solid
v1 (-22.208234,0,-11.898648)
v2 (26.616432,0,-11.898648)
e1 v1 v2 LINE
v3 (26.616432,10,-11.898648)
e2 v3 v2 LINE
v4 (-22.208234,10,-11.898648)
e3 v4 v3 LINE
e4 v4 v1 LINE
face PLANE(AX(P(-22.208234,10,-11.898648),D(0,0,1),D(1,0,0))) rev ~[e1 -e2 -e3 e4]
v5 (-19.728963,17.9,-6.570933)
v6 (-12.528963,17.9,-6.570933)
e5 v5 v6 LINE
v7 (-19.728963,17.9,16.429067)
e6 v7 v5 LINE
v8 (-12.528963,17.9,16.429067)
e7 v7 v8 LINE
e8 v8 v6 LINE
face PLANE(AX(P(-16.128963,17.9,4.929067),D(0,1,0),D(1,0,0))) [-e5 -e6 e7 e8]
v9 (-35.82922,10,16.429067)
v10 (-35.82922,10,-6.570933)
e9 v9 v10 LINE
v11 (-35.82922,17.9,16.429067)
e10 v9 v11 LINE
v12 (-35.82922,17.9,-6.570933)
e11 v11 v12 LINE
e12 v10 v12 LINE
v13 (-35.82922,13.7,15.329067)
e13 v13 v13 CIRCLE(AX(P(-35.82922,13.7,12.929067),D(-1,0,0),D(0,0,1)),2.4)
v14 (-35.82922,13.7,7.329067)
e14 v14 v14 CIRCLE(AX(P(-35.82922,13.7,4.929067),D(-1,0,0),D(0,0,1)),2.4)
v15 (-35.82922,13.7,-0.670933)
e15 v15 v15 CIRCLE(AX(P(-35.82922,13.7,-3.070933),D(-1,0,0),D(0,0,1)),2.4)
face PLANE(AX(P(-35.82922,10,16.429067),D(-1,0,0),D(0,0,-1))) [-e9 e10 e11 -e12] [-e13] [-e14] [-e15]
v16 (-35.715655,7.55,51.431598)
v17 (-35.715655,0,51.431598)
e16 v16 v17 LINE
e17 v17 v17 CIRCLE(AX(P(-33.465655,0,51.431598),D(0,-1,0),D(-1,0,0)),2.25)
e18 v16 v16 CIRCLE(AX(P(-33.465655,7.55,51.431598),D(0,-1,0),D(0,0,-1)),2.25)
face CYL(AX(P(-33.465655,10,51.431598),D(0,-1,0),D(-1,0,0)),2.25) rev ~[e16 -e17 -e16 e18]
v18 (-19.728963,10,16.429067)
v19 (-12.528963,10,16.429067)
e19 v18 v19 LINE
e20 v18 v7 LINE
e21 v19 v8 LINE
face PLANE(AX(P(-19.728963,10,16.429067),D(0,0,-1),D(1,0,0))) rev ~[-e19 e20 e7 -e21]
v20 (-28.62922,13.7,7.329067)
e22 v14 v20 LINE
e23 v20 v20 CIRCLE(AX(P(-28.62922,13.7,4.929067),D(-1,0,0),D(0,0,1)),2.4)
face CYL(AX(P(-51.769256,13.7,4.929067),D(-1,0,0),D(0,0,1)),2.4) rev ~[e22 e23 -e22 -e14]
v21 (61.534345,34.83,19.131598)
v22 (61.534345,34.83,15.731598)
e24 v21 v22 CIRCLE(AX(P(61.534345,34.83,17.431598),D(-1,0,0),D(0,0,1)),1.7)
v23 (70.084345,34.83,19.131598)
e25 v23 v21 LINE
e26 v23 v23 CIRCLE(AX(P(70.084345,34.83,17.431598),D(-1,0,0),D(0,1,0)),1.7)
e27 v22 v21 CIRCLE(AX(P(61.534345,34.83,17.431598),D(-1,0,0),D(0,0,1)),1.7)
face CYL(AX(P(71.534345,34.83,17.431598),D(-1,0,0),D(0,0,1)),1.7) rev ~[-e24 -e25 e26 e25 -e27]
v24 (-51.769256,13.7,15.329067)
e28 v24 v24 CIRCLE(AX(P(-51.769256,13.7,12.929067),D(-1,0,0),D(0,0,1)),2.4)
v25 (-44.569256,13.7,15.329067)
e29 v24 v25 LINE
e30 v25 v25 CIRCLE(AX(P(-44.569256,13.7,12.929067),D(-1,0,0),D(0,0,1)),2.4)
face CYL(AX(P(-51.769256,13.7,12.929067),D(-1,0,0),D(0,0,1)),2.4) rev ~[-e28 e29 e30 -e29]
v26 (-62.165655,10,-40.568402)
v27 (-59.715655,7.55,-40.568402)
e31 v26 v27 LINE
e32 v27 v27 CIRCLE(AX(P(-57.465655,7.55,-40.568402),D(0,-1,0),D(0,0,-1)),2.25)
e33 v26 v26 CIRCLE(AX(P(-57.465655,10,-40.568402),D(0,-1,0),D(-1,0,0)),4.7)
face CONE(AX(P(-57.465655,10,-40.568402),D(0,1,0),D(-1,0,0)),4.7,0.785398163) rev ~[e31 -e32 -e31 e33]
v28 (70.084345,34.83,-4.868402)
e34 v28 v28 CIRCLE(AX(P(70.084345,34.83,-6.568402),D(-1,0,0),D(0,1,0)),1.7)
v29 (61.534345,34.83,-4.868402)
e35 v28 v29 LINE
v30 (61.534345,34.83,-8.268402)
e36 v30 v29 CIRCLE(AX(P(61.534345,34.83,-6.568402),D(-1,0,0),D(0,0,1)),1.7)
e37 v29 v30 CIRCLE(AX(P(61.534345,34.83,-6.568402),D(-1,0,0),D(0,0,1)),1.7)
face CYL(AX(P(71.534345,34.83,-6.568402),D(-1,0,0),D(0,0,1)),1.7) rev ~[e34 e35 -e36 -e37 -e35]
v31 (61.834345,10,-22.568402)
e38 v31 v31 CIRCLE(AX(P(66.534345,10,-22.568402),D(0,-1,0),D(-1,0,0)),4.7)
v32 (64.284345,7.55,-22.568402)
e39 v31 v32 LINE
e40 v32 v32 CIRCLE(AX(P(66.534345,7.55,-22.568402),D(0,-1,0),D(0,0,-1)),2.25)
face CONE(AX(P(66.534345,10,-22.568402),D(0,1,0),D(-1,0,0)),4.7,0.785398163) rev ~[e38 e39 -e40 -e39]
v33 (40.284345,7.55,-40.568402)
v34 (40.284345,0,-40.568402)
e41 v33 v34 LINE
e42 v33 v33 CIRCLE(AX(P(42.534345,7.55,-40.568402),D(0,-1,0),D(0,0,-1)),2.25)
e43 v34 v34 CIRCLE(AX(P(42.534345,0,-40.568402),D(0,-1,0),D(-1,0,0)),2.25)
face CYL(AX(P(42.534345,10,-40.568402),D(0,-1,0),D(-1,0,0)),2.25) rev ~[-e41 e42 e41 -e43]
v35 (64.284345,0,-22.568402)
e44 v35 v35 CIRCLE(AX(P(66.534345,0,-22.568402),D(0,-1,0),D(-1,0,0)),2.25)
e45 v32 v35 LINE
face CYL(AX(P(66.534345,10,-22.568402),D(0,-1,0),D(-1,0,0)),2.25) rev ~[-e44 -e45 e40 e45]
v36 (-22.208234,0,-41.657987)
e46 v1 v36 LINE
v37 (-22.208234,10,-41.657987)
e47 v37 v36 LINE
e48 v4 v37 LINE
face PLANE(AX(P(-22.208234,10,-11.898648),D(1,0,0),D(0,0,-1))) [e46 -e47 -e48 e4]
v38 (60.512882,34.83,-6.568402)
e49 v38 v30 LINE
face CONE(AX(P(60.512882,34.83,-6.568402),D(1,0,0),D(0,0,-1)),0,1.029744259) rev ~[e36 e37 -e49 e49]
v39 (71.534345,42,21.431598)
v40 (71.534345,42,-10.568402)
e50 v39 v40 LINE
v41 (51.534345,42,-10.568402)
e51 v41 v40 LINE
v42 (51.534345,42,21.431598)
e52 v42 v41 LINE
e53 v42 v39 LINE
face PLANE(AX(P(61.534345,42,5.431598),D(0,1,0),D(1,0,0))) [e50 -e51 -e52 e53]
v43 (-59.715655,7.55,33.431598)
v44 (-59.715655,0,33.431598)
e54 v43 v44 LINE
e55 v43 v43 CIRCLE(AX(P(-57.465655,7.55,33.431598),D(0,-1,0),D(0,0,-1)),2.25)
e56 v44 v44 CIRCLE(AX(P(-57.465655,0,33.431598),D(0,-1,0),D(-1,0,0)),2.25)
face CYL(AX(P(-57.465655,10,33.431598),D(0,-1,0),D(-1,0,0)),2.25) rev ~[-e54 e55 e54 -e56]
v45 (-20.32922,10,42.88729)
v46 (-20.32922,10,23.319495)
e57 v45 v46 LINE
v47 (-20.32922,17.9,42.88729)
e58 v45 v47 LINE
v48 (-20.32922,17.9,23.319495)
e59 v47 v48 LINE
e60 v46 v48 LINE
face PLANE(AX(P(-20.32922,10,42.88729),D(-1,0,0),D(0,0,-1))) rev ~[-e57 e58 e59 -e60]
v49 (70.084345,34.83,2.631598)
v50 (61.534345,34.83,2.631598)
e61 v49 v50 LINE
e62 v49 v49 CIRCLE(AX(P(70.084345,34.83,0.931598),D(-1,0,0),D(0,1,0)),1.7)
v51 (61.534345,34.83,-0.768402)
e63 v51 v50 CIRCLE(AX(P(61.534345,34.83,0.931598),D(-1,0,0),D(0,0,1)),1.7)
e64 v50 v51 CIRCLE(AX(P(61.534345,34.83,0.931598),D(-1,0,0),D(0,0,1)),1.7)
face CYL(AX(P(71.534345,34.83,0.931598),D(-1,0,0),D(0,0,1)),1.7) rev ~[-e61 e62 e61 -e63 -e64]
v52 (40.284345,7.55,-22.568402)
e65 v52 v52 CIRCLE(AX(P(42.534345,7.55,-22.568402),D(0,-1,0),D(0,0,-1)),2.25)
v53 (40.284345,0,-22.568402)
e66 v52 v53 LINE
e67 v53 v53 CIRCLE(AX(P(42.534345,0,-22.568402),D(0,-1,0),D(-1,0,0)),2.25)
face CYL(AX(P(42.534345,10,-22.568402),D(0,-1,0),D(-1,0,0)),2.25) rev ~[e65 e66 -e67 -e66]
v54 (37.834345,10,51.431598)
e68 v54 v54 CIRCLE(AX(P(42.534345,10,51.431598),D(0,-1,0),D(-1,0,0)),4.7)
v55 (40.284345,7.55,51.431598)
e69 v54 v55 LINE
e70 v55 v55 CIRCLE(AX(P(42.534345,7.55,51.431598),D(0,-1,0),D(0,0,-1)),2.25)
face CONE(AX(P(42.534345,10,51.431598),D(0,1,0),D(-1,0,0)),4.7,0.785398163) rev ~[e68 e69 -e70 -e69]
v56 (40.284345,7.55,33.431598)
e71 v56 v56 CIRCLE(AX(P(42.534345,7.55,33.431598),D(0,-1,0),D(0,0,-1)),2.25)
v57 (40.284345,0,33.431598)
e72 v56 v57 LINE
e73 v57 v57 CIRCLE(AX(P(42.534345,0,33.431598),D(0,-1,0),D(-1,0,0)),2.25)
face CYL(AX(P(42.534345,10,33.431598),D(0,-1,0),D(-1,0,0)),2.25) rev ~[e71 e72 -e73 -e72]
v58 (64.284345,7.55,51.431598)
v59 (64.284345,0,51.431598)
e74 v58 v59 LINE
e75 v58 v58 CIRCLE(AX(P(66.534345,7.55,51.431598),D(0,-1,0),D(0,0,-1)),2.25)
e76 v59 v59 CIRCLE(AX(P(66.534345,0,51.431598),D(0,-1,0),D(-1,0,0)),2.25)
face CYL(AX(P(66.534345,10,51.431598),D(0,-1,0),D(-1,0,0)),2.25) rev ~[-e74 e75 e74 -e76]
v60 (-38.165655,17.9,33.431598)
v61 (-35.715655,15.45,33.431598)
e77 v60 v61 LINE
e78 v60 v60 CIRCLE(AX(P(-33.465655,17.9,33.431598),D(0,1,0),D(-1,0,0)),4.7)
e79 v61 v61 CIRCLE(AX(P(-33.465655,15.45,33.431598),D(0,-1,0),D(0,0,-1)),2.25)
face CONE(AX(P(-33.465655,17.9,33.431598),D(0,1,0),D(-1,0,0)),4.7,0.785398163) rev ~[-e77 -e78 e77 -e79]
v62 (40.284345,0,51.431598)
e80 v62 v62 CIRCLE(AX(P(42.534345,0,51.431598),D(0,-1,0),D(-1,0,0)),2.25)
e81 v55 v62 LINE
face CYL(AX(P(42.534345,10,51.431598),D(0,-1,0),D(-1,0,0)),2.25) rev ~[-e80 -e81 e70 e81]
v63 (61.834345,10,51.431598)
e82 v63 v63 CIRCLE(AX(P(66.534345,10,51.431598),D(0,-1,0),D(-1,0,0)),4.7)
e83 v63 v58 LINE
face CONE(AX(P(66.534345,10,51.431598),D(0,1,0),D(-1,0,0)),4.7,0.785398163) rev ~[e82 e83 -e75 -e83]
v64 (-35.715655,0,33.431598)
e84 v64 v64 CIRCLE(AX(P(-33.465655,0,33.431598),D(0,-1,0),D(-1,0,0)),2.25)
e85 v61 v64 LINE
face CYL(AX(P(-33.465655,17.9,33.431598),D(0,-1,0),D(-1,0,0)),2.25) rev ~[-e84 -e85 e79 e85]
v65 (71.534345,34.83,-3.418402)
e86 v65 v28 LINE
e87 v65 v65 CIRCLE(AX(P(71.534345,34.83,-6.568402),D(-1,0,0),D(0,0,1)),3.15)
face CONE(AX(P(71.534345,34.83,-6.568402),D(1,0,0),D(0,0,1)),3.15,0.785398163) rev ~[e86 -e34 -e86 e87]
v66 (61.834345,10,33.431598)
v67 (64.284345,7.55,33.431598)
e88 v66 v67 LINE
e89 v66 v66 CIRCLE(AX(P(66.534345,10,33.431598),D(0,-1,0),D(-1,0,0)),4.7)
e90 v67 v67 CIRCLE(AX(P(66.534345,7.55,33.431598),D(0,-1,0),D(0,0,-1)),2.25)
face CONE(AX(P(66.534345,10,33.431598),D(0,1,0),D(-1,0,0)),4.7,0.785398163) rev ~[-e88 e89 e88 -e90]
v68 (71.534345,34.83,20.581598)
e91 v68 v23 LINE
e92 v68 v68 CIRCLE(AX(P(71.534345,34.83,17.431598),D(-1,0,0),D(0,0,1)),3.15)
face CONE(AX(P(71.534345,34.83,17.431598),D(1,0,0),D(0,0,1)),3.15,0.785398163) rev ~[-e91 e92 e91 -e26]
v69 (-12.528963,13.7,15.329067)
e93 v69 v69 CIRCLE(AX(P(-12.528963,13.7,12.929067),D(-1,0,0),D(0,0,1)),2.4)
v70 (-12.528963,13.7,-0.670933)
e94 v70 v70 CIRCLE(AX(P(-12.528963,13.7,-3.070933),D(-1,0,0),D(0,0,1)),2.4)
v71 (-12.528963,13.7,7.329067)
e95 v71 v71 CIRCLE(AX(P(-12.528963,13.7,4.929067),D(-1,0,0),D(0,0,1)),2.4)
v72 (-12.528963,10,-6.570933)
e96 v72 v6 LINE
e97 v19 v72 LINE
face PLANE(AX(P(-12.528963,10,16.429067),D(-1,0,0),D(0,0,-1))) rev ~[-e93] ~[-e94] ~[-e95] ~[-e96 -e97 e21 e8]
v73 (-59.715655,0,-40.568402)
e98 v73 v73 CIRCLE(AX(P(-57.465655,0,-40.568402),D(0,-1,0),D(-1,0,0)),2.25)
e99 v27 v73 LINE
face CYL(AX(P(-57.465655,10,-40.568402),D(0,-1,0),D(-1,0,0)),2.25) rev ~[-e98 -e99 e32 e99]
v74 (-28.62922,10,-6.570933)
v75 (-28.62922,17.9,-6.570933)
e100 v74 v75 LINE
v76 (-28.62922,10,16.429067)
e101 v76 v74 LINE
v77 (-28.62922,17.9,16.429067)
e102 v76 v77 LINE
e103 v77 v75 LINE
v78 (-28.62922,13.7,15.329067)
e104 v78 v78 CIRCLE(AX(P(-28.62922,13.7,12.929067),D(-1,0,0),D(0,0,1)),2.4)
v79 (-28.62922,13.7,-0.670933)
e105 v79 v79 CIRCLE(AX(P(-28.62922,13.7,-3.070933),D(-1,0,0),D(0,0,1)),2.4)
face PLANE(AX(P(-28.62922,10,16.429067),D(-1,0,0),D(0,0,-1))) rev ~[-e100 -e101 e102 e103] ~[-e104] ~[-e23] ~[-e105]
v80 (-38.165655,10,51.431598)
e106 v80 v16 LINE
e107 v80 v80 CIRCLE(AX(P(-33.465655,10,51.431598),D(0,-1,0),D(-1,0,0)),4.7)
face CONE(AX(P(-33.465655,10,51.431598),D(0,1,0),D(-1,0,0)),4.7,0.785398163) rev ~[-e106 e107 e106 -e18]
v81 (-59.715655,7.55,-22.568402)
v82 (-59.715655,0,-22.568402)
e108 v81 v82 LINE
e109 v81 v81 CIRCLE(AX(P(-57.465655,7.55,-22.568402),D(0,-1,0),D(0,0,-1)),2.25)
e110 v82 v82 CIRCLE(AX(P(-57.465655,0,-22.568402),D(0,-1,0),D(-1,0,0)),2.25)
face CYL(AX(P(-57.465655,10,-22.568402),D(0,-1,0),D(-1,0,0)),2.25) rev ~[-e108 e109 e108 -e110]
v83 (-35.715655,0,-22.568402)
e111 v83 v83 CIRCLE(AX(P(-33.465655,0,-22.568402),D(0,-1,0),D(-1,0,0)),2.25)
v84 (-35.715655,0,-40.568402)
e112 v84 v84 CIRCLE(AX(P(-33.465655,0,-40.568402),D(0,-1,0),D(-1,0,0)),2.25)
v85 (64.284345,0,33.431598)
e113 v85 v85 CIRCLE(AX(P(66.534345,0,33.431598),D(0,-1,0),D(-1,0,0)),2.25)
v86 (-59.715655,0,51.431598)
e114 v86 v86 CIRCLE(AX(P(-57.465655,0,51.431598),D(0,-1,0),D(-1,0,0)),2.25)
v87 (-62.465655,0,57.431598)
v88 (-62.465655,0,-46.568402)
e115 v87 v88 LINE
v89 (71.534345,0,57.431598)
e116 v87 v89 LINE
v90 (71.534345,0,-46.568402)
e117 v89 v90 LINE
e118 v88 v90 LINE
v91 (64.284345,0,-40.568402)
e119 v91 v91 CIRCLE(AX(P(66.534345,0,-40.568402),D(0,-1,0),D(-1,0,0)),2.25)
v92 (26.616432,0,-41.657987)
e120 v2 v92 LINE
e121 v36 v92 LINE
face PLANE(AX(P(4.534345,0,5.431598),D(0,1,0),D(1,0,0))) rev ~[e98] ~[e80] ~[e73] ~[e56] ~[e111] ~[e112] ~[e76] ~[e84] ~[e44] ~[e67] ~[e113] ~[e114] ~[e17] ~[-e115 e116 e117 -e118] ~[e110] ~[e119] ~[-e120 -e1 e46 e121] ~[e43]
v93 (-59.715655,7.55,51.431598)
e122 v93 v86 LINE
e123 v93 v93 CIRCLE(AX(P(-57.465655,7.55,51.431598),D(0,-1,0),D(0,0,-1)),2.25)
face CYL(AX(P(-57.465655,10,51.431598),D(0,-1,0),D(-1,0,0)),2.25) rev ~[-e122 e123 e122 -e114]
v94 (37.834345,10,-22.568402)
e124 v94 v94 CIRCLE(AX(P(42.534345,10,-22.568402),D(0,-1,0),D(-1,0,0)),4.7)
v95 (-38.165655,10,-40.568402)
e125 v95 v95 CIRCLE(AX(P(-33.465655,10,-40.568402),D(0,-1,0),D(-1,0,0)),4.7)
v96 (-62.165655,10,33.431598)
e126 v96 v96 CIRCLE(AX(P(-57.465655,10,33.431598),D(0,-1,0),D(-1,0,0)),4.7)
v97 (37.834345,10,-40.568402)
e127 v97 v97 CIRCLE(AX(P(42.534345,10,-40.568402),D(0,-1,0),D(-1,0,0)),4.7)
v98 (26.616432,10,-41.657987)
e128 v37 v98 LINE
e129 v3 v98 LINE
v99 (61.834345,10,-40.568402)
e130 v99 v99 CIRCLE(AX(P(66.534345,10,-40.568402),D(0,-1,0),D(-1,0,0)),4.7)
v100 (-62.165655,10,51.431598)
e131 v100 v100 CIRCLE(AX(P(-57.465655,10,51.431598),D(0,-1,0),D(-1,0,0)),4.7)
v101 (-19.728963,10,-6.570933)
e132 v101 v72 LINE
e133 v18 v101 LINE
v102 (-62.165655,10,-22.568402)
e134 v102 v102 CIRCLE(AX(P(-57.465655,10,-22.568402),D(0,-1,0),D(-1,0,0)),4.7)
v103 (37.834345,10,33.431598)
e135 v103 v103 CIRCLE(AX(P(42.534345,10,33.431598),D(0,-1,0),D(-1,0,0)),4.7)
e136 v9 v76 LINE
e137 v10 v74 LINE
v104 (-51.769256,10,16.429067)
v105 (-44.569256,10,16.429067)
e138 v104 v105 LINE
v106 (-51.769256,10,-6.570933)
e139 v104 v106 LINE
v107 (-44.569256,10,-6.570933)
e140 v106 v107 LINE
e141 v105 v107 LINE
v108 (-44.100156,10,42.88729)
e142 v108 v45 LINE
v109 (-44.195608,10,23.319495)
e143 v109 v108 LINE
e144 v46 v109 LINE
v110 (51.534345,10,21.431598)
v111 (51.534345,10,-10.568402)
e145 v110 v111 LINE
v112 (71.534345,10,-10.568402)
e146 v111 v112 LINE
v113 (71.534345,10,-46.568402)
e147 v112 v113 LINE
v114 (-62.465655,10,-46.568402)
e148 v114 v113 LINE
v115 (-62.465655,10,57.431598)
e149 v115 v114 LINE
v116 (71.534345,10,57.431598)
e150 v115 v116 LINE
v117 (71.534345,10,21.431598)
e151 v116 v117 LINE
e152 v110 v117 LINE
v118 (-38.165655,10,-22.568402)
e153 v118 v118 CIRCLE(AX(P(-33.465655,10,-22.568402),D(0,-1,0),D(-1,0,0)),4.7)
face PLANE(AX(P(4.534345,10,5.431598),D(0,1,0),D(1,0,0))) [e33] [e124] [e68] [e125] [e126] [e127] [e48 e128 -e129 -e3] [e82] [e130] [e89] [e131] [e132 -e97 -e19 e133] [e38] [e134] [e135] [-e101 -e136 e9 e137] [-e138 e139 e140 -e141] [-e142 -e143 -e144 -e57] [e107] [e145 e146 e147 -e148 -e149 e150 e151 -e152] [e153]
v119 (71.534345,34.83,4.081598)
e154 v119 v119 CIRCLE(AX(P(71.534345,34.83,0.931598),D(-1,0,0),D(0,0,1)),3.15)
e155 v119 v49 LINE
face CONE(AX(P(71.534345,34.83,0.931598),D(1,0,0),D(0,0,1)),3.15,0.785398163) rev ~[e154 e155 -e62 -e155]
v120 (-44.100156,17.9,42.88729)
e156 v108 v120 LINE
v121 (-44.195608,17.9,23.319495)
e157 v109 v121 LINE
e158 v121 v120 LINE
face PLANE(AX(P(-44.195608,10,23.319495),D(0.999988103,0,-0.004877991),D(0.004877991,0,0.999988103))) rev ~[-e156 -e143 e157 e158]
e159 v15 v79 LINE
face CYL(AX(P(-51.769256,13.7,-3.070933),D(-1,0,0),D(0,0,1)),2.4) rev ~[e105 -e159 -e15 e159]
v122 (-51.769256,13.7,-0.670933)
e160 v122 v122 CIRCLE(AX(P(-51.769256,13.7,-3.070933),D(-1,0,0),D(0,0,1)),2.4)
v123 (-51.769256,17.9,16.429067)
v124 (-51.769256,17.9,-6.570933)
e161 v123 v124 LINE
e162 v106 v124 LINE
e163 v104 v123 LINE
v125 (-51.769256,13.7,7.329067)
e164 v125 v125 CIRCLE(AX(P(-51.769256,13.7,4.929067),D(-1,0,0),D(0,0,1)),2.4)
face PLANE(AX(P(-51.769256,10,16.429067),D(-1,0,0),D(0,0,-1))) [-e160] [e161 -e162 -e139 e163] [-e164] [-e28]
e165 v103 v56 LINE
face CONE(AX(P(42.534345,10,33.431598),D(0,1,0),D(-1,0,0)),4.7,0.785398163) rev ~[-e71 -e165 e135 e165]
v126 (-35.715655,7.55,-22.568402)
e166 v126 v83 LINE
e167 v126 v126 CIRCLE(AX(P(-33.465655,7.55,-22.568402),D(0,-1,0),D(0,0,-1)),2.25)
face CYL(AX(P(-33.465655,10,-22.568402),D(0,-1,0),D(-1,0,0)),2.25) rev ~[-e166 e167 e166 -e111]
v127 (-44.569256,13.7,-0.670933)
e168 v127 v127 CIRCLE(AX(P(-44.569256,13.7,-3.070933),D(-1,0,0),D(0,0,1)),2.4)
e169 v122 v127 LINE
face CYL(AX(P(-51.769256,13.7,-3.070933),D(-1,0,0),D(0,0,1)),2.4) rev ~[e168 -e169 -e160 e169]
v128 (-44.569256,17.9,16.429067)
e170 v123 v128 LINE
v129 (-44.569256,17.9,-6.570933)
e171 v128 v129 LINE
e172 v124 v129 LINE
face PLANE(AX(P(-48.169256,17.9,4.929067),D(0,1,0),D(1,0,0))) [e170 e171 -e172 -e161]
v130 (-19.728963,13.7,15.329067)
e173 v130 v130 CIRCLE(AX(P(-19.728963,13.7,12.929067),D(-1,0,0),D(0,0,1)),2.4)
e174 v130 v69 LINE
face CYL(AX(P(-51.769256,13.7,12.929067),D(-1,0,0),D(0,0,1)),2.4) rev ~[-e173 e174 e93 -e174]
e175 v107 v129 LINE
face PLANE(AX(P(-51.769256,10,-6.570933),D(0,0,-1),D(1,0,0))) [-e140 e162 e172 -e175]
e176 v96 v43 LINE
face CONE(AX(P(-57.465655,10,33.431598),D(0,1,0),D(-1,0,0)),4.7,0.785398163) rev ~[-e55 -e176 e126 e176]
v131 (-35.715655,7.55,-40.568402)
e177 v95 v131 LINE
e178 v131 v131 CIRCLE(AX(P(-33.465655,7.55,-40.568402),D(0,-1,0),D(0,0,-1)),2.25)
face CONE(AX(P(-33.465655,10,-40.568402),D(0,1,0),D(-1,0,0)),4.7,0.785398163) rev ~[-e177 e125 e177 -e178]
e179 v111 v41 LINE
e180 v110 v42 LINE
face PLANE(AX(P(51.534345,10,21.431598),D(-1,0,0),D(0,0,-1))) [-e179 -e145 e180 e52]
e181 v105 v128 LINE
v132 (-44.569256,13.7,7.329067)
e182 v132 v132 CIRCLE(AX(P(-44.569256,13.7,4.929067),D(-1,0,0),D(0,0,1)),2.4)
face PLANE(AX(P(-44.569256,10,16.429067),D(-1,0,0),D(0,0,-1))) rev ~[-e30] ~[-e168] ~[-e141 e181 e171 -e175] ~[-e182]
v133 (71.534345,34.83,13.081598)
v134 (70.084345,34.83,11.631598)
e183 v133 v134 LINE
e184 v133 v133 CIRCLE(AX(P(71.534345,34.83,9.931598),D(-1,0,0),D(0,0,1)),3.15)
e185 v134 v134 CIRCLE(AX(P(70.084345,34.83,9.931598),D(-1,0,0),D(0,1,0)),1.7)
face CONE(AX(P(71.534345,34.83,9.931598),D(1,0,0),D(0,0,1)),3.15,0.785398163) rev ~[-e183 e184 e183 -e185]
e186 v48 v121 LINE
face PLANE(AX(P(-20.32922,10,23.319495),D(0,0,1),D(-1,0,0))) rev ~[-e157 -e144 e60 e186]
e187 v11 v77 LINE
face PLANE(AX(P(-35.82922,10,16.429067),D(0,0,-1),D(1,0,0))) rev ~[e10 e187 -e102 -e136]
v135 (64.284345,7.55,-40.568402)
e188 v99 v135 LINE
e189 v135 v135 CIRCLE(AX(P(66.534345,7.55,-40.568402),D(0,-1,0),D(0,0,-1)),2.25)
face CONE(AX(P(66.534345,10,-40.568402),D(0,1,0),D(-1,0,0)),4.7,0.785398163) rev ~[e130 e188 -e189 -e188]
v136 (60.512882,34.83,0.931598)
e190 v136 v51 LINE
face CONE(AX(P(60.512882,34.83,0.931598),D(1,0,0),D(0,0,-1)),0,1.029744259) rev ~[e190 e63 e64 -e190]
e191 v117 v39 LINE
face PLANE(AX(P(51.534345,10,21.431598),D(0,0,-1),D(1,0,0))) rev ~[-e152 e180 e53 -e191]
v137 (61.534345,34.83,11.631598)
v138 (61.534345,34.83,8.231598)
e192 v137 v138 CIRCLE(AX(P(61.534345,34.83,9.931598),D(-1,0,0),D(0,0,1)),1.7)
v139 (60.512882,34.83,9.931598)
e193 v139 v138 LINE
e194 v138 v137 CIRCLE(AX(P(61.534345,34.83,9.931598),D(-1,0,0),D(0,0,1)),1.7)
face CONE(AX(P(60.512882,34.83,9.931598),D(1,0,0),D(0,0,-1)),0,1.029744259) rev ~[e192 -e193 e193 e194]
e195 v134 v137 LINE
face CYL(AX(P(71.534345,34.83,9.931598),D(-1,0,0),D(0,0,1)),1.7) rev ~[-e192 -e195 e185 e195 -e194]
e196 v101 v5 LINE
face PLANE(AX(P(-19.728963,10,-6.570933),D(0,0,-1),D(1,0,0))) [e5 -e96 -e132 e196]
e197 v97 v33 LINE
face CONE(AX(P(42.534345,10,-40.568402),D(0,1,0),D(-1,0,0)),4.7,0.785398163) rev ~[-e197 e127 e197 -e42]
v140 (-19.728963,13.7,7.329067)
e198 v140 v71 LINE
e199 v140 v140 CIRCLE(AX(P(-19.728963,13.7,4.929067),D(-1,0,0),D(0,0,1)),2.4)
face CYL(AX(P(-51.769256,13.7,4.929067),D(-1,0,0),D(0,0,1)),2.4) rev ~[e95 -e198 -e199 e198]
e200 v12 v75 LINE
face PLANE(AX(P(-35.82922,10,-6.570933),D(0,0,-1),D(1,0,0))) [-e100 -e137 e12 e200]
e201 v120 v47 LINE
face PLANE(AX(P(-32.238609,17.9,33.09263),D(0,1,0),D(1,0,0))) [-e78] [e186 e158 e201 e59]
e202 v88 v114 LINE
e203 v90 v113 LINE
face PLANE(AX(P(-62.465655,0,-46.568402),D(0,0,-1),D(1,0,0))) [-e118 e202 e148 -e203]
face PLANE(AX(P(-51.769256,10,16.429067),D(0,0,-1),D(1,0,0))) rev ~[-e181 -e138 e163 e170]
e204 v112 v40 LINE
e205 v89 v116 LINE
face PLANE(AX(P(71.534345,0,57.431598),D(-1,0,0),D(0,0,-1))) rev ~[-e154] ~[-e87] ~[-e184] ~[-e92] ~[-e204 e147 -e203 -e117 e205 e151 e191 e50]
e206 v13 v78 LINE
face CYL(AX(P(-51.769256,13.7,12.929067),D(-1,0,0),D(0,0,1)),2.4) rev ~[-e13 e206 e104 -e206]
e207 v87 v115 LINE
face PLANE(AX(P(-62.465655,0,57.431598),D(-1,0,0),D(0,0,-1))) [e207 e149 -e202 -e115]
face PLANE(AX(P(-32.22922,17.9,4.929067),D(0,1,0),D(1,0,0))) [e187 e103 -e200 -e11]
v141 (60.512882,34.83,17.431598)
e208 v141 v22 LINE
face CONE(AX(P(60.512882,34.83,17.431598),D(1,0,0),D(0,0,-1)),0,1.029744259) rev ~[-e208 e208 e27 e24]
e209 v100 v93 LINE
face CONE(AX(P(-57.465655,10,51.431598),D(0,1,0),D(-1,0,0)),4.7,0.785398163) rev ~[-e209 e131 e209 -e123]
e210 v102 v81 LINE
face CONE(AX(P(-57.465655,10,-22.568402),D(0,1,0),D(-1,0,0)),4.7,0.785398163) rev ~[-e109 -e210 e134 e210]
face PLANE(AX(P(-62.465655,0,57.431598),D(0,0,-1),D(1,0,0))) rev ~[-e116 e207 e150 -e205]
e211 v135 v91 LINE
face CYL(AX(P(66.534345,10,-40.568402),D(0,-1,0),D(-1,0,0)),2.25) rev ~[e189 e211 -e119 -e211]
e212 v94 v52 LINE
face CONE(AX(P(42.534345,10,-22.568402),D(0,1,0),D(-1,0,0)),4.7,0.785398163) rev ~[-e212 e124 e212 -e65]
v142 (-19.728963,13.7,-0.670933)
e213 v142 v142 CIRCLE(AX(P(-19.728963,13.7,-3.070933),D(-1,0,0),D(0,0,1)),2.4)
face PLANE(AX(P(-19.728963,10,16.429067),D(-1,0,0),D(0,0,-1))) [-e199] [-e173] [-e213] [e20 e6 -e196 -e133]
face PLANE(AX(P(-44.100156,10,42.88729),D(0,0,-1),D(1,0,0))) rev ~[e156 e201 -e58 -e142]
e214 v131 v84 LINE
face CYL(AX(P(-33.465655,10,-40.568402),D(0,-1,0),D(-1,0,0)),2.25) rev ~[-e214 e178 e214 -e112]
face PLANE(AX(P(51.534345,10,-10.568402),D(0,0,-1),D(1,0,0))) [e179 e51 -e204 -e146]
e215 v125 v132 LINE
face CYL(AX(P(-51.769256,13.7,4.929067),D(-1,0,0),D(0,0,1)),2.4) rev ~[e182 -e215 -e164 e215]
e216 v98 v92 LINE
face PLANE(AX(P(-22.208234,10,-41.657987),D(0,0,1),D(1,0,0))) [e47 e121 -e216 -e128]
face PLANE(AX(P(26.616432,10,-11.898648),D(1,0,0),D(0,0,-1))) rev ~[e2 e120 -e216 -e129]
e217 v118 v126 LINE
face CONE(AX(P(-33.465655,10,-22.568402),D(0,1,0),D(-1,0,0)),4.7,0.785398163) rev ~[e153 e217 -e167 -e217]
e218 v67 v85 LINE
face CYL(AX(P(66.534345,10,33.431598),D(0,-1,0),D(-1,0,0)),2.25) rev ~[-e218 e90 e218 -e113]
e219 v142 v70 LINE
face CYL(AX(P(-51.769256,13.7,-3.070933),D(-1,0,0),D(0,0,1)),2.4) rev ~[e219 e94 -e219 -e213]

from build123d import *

# Parameters (mm, degrees)
SKETCH2_W                                       = 134
SKETCH2_H                                       = 104
BOSS_EXTRUDE1_DEPTH                             = 10
SKETCH3_W                                       = 7.2
SKETCH3_H                                       = 23
BOSS_EXTRUDE2_DEPTH                             = 7.9
BOSS_EXTRUDE3_DEPTH                             = 7.9
CSK_FOR_M4_FLAT_HEAD_MACHINE_SCREW1_D           = 4.5
CSK_FOR_M4_FLAT_HEAD_MACHINE_SCREW1_DEPTH       = 10
CSK_FOR_M4_FLAT_HEAD_MACHINE_SCREW1_CSINK_D     = 9.4
CSK_FOR_M4_FLAT_HEAD_MACHINE_SCREW1_CSINK_ANGLE = 90
CSK_FOR_M4_FLAT_HEAD_MACHINE_SCREW1_TIP         = 1.351936393
SKETCH4_R                                       = 2.4
CUT_EXTRUDE3_DEPTH                              = 124.303600725
SKETCH8_W                                       = 20
SKETCH8_H                                       = 32
BOSS_EXTRUDE4_DEPTH                             = 32
CSK_FOR_M3_FLAT_HEAD_MACHINE_SCREW1_D           = 3.4
CSK_FOR_M3_FLAT_HEAD_MACHINE_SCREW1_DEPTH       = 10
CSK_FOR_M3_FLAT_HEAD_MACHINE_SCREW1_CSINK_D     = 6.3
CSK_FOR_M3_FLAT_HEAD_MACHINE_SCREW1_CSINK_ANGLE = 90
CSK_FOR_M3_FLAT_HEAD_MACHINE_SCREW1_TIP         = 1.021463052
CSK_FOR_M4_FLAT_HEAD_MACHINE_SCREW2_D           = 4.5
CSK_FOR_M4_FLAT_HEAD_MACHINE_SCREW2_CSINK_D     = 9.4
CSK_FOR_M4_FLAT_HEAD_MACHINE_SCREW2_CSINK_ANGLE = 90
SKETCH9_W                                       = 48.824666317
SKETCH9_H                                       = 29.759338586
CUT_EXTRUDE4_DEPTH                              = 11


with BuildPart() as part:
    # Sketch2 → Boss-Extrude1 (new body)
    with BuildSketch(Plane(origin=(0, 0, 0), x_dir=(1, 0, 0), z_dir=(0, 1, 0))):
        with Locations((4.53434515, -5.431597684)):
            Rectangle(SKETCH2_W, SKETCH2_H)
    extrude(amount=BOSS_EXTRUDE1_DEPTH)

    # Sketch3 → Boss-Extrude2 (add)
    with BuildSketch(Plane(origin=(0, 10, 0), x_dir=(1, 0, 0), z_dir=(0, 1, 0))):
        with Locations((-48.169255575, -4.929066507)):
            Rectangle(SKETCH3_W, SKETCH3_H)
        with Locations((-32.22922018, -4.929066507)):
            Rectangle(SKETCH3_W, SKETCH3_H)
        with Locations((-16.128962561, -4.929066507)):
            Rectangle(SKETCH3_W, SKETCH3_H)
    extrude(amount=BOSS_EXTRUDE2_DEPTH)

    # Sketch5 → Boss-Extrude3 (add)
    with BuildSketch(Plane(origin=(0, 10, 0), x_dir=(1, 0, 0), z_dir=(0, 1, 0))):
        Polygon((-20.32922018, -42.887289811), (-20.32922018, -23.319494658), (-44.195608335, -23.319494658), (-44.100155676, -42.887289811), align=None)
    extrude(amount=BOSS_EXTRUDE3_DEPTH)

    # CSK for M4 Flat Head Machine Screw1
    with Locations(Plane(origin=(0, 10, 0), x_dir=(1, 0, 0), z_dir=(0, 1, 0))):
        with Locations((-57.46565485, 40.568402316), (-33.46565485, 40.568402316), (-57.46565485, 22.568402316), (-33.46565485, 22.568402316), (-57.46565485, -33.431597684), (-57.46565485, -51.431597684), (-33.46565485, -51.431597684), (42.53434515, -33.431597684), (66.53434515, -33.431597684), (42.53434515, -51.431597684), (66.53434515, -51.431597684), (42.53434515, 40.568402316), (66.53434515, 40.568402316), (66.53434515, 22.568402316), (42.53434515, 22.568402316)):
            CounterSinkHole(CSK_FOR_M4_FLAT_HEAD_MACHINE_SCREW1_D / 2, CSK_FOR_M4_FLAT_HEAD_MACHINE_SCREW1_CSINK_D / 2, depth=CSK_FOR_M4_FLAT_HEAD_MACHINE_SCREW1_DEPTH, counter_sink_angle=CSK_FOR_M4_FLAT_HEAD_MACHINE_SCREW1_CSINK_ANGLE)
            with Locations((0, 0, -(CSK_FOR_M4_FLAT_HEAD_MACHINE_SCREW1_DEPTH + CSK_FOR_M4_FLAT_HEAD_MACHINE_SCREW1_TIP / 2))):  # 118° drill point
                Cone(0, CSK_FOR_M4_FLAT_HEAD_MACHINE_SCREW1_D / 2, CSK_FOR_M4_FLAT_HEAD_MACHINE_SCREW1_TIP, mode=Mode.SUBTRACT)

    # Sketch4 → Cut-Extrude3 (cut, through all)
    with BuildSketch(Plane.ZY.offset(51.769255575)):
        with Locations((12.929066507, 13.7)):
            Circle(SKETCH4_R)
        with Locations((4.929066507, 13.7)):
            Circle(SKETCH4_R)
        with Locations((-3.070933493, 13.7)):
            Circle(SKETCH4_R)
    extrude(amount=-CUT_EXTRUDE3_DEPTH, mode=Mode.SUBTRACT)

    # Sketch8 → Boss-Extrude4 (add)
    with BuildSketch(Plane(origin=(0, 10, 0), x_dir=(1, 0, 0), z_dir=(0, 1, 0))):
        with Locations((61.53434515, -5.431597684)):
            Rectangle(SKETCH8_W, SKETCH8_H)
    extrude(amount=BOSS_EXTRUDE4_DEPTH)

    # CSK for M3 Flat Head Machine Screw1
    with Locations(Plane(origin=(71.53434515, 0, 0), x_dir=(0, 0, -1), z_dir=(1, 0, 0))):
        with Locations((-17.431597684, 34.83), (-9.931597684, 34.83), (-0.931597684, 34.83), (6.568402316, 34.83)):
            CounterSinkHole(CSK_FOR_M3_FLAT_HEAD_MACHINE_SCREW1_D / 2, CSK_FOR_M3_FLAT_HEAD_MACHINE_SCREW1_CSINK_D / 2, depth=CSK_FOR_M3_FLAT_HEAD_MACHINE_SCREW1_DEPTH, counter_sink_angle=CSK_FOR_M3_FLAT_HEAD_MACHINE_SCREW1_CSINK_ANGLE)
            with Locations((0, 0, -(CSK_FOR_M3_FLAT_HEAD_MACHINE_SCREW1_DEPTH + CSK_FOR_M3_FLAT_HEAD_MACHINE_SCREW1_TIP / 2))):  # 118° drill point
                Cone(0, CSK_FOR_M3_FLAT_HEAD_MACHINE_SCREW1_D / 2, CSK_FOR_M3_FLAT_HEAD_MACHINE_SCREW1_TIP, mode=Mode.SUBTRACT)

    # CSK for M4 Flat Head Machine Screw2 (through all)
    with Locations(Plane(origin=(0, 17.9, 0), x_dir=(1, 0, 0), z_dir=(0, 1, 0))):
        with Locations((-33.46565485, -33.431597684)):
            CounterSinkHole(CSK_FOR_M4_FLAT_HEAD_MACHINE_SCREW2_D / 2, CSK_FOR_M4_FLAT_HEAD_MACHINE_SCREW2_CSINK_D / 2, counter_sink_angle=CSK_FOR_M4_FLAT_HEAD_MACHINE_SCREW2_CSINK_ANGLE)

    # Sketch9 → Cut-Extrude4 (cut, through all)
    with BuildSketch(Plane(origin=(0, 10, 0), x_dir=(1, 0, 0), z_dir=(0, 1, 0))):
        with Locations((2.204099142, 26.778317221)):
            Rectangle(SKETCH9_W, SKETCH9_H)
    extrude(amount=-CUT_EXTRUDE4_DEPTH, mode=Mode.SUBTRACT)


solid = part.part
